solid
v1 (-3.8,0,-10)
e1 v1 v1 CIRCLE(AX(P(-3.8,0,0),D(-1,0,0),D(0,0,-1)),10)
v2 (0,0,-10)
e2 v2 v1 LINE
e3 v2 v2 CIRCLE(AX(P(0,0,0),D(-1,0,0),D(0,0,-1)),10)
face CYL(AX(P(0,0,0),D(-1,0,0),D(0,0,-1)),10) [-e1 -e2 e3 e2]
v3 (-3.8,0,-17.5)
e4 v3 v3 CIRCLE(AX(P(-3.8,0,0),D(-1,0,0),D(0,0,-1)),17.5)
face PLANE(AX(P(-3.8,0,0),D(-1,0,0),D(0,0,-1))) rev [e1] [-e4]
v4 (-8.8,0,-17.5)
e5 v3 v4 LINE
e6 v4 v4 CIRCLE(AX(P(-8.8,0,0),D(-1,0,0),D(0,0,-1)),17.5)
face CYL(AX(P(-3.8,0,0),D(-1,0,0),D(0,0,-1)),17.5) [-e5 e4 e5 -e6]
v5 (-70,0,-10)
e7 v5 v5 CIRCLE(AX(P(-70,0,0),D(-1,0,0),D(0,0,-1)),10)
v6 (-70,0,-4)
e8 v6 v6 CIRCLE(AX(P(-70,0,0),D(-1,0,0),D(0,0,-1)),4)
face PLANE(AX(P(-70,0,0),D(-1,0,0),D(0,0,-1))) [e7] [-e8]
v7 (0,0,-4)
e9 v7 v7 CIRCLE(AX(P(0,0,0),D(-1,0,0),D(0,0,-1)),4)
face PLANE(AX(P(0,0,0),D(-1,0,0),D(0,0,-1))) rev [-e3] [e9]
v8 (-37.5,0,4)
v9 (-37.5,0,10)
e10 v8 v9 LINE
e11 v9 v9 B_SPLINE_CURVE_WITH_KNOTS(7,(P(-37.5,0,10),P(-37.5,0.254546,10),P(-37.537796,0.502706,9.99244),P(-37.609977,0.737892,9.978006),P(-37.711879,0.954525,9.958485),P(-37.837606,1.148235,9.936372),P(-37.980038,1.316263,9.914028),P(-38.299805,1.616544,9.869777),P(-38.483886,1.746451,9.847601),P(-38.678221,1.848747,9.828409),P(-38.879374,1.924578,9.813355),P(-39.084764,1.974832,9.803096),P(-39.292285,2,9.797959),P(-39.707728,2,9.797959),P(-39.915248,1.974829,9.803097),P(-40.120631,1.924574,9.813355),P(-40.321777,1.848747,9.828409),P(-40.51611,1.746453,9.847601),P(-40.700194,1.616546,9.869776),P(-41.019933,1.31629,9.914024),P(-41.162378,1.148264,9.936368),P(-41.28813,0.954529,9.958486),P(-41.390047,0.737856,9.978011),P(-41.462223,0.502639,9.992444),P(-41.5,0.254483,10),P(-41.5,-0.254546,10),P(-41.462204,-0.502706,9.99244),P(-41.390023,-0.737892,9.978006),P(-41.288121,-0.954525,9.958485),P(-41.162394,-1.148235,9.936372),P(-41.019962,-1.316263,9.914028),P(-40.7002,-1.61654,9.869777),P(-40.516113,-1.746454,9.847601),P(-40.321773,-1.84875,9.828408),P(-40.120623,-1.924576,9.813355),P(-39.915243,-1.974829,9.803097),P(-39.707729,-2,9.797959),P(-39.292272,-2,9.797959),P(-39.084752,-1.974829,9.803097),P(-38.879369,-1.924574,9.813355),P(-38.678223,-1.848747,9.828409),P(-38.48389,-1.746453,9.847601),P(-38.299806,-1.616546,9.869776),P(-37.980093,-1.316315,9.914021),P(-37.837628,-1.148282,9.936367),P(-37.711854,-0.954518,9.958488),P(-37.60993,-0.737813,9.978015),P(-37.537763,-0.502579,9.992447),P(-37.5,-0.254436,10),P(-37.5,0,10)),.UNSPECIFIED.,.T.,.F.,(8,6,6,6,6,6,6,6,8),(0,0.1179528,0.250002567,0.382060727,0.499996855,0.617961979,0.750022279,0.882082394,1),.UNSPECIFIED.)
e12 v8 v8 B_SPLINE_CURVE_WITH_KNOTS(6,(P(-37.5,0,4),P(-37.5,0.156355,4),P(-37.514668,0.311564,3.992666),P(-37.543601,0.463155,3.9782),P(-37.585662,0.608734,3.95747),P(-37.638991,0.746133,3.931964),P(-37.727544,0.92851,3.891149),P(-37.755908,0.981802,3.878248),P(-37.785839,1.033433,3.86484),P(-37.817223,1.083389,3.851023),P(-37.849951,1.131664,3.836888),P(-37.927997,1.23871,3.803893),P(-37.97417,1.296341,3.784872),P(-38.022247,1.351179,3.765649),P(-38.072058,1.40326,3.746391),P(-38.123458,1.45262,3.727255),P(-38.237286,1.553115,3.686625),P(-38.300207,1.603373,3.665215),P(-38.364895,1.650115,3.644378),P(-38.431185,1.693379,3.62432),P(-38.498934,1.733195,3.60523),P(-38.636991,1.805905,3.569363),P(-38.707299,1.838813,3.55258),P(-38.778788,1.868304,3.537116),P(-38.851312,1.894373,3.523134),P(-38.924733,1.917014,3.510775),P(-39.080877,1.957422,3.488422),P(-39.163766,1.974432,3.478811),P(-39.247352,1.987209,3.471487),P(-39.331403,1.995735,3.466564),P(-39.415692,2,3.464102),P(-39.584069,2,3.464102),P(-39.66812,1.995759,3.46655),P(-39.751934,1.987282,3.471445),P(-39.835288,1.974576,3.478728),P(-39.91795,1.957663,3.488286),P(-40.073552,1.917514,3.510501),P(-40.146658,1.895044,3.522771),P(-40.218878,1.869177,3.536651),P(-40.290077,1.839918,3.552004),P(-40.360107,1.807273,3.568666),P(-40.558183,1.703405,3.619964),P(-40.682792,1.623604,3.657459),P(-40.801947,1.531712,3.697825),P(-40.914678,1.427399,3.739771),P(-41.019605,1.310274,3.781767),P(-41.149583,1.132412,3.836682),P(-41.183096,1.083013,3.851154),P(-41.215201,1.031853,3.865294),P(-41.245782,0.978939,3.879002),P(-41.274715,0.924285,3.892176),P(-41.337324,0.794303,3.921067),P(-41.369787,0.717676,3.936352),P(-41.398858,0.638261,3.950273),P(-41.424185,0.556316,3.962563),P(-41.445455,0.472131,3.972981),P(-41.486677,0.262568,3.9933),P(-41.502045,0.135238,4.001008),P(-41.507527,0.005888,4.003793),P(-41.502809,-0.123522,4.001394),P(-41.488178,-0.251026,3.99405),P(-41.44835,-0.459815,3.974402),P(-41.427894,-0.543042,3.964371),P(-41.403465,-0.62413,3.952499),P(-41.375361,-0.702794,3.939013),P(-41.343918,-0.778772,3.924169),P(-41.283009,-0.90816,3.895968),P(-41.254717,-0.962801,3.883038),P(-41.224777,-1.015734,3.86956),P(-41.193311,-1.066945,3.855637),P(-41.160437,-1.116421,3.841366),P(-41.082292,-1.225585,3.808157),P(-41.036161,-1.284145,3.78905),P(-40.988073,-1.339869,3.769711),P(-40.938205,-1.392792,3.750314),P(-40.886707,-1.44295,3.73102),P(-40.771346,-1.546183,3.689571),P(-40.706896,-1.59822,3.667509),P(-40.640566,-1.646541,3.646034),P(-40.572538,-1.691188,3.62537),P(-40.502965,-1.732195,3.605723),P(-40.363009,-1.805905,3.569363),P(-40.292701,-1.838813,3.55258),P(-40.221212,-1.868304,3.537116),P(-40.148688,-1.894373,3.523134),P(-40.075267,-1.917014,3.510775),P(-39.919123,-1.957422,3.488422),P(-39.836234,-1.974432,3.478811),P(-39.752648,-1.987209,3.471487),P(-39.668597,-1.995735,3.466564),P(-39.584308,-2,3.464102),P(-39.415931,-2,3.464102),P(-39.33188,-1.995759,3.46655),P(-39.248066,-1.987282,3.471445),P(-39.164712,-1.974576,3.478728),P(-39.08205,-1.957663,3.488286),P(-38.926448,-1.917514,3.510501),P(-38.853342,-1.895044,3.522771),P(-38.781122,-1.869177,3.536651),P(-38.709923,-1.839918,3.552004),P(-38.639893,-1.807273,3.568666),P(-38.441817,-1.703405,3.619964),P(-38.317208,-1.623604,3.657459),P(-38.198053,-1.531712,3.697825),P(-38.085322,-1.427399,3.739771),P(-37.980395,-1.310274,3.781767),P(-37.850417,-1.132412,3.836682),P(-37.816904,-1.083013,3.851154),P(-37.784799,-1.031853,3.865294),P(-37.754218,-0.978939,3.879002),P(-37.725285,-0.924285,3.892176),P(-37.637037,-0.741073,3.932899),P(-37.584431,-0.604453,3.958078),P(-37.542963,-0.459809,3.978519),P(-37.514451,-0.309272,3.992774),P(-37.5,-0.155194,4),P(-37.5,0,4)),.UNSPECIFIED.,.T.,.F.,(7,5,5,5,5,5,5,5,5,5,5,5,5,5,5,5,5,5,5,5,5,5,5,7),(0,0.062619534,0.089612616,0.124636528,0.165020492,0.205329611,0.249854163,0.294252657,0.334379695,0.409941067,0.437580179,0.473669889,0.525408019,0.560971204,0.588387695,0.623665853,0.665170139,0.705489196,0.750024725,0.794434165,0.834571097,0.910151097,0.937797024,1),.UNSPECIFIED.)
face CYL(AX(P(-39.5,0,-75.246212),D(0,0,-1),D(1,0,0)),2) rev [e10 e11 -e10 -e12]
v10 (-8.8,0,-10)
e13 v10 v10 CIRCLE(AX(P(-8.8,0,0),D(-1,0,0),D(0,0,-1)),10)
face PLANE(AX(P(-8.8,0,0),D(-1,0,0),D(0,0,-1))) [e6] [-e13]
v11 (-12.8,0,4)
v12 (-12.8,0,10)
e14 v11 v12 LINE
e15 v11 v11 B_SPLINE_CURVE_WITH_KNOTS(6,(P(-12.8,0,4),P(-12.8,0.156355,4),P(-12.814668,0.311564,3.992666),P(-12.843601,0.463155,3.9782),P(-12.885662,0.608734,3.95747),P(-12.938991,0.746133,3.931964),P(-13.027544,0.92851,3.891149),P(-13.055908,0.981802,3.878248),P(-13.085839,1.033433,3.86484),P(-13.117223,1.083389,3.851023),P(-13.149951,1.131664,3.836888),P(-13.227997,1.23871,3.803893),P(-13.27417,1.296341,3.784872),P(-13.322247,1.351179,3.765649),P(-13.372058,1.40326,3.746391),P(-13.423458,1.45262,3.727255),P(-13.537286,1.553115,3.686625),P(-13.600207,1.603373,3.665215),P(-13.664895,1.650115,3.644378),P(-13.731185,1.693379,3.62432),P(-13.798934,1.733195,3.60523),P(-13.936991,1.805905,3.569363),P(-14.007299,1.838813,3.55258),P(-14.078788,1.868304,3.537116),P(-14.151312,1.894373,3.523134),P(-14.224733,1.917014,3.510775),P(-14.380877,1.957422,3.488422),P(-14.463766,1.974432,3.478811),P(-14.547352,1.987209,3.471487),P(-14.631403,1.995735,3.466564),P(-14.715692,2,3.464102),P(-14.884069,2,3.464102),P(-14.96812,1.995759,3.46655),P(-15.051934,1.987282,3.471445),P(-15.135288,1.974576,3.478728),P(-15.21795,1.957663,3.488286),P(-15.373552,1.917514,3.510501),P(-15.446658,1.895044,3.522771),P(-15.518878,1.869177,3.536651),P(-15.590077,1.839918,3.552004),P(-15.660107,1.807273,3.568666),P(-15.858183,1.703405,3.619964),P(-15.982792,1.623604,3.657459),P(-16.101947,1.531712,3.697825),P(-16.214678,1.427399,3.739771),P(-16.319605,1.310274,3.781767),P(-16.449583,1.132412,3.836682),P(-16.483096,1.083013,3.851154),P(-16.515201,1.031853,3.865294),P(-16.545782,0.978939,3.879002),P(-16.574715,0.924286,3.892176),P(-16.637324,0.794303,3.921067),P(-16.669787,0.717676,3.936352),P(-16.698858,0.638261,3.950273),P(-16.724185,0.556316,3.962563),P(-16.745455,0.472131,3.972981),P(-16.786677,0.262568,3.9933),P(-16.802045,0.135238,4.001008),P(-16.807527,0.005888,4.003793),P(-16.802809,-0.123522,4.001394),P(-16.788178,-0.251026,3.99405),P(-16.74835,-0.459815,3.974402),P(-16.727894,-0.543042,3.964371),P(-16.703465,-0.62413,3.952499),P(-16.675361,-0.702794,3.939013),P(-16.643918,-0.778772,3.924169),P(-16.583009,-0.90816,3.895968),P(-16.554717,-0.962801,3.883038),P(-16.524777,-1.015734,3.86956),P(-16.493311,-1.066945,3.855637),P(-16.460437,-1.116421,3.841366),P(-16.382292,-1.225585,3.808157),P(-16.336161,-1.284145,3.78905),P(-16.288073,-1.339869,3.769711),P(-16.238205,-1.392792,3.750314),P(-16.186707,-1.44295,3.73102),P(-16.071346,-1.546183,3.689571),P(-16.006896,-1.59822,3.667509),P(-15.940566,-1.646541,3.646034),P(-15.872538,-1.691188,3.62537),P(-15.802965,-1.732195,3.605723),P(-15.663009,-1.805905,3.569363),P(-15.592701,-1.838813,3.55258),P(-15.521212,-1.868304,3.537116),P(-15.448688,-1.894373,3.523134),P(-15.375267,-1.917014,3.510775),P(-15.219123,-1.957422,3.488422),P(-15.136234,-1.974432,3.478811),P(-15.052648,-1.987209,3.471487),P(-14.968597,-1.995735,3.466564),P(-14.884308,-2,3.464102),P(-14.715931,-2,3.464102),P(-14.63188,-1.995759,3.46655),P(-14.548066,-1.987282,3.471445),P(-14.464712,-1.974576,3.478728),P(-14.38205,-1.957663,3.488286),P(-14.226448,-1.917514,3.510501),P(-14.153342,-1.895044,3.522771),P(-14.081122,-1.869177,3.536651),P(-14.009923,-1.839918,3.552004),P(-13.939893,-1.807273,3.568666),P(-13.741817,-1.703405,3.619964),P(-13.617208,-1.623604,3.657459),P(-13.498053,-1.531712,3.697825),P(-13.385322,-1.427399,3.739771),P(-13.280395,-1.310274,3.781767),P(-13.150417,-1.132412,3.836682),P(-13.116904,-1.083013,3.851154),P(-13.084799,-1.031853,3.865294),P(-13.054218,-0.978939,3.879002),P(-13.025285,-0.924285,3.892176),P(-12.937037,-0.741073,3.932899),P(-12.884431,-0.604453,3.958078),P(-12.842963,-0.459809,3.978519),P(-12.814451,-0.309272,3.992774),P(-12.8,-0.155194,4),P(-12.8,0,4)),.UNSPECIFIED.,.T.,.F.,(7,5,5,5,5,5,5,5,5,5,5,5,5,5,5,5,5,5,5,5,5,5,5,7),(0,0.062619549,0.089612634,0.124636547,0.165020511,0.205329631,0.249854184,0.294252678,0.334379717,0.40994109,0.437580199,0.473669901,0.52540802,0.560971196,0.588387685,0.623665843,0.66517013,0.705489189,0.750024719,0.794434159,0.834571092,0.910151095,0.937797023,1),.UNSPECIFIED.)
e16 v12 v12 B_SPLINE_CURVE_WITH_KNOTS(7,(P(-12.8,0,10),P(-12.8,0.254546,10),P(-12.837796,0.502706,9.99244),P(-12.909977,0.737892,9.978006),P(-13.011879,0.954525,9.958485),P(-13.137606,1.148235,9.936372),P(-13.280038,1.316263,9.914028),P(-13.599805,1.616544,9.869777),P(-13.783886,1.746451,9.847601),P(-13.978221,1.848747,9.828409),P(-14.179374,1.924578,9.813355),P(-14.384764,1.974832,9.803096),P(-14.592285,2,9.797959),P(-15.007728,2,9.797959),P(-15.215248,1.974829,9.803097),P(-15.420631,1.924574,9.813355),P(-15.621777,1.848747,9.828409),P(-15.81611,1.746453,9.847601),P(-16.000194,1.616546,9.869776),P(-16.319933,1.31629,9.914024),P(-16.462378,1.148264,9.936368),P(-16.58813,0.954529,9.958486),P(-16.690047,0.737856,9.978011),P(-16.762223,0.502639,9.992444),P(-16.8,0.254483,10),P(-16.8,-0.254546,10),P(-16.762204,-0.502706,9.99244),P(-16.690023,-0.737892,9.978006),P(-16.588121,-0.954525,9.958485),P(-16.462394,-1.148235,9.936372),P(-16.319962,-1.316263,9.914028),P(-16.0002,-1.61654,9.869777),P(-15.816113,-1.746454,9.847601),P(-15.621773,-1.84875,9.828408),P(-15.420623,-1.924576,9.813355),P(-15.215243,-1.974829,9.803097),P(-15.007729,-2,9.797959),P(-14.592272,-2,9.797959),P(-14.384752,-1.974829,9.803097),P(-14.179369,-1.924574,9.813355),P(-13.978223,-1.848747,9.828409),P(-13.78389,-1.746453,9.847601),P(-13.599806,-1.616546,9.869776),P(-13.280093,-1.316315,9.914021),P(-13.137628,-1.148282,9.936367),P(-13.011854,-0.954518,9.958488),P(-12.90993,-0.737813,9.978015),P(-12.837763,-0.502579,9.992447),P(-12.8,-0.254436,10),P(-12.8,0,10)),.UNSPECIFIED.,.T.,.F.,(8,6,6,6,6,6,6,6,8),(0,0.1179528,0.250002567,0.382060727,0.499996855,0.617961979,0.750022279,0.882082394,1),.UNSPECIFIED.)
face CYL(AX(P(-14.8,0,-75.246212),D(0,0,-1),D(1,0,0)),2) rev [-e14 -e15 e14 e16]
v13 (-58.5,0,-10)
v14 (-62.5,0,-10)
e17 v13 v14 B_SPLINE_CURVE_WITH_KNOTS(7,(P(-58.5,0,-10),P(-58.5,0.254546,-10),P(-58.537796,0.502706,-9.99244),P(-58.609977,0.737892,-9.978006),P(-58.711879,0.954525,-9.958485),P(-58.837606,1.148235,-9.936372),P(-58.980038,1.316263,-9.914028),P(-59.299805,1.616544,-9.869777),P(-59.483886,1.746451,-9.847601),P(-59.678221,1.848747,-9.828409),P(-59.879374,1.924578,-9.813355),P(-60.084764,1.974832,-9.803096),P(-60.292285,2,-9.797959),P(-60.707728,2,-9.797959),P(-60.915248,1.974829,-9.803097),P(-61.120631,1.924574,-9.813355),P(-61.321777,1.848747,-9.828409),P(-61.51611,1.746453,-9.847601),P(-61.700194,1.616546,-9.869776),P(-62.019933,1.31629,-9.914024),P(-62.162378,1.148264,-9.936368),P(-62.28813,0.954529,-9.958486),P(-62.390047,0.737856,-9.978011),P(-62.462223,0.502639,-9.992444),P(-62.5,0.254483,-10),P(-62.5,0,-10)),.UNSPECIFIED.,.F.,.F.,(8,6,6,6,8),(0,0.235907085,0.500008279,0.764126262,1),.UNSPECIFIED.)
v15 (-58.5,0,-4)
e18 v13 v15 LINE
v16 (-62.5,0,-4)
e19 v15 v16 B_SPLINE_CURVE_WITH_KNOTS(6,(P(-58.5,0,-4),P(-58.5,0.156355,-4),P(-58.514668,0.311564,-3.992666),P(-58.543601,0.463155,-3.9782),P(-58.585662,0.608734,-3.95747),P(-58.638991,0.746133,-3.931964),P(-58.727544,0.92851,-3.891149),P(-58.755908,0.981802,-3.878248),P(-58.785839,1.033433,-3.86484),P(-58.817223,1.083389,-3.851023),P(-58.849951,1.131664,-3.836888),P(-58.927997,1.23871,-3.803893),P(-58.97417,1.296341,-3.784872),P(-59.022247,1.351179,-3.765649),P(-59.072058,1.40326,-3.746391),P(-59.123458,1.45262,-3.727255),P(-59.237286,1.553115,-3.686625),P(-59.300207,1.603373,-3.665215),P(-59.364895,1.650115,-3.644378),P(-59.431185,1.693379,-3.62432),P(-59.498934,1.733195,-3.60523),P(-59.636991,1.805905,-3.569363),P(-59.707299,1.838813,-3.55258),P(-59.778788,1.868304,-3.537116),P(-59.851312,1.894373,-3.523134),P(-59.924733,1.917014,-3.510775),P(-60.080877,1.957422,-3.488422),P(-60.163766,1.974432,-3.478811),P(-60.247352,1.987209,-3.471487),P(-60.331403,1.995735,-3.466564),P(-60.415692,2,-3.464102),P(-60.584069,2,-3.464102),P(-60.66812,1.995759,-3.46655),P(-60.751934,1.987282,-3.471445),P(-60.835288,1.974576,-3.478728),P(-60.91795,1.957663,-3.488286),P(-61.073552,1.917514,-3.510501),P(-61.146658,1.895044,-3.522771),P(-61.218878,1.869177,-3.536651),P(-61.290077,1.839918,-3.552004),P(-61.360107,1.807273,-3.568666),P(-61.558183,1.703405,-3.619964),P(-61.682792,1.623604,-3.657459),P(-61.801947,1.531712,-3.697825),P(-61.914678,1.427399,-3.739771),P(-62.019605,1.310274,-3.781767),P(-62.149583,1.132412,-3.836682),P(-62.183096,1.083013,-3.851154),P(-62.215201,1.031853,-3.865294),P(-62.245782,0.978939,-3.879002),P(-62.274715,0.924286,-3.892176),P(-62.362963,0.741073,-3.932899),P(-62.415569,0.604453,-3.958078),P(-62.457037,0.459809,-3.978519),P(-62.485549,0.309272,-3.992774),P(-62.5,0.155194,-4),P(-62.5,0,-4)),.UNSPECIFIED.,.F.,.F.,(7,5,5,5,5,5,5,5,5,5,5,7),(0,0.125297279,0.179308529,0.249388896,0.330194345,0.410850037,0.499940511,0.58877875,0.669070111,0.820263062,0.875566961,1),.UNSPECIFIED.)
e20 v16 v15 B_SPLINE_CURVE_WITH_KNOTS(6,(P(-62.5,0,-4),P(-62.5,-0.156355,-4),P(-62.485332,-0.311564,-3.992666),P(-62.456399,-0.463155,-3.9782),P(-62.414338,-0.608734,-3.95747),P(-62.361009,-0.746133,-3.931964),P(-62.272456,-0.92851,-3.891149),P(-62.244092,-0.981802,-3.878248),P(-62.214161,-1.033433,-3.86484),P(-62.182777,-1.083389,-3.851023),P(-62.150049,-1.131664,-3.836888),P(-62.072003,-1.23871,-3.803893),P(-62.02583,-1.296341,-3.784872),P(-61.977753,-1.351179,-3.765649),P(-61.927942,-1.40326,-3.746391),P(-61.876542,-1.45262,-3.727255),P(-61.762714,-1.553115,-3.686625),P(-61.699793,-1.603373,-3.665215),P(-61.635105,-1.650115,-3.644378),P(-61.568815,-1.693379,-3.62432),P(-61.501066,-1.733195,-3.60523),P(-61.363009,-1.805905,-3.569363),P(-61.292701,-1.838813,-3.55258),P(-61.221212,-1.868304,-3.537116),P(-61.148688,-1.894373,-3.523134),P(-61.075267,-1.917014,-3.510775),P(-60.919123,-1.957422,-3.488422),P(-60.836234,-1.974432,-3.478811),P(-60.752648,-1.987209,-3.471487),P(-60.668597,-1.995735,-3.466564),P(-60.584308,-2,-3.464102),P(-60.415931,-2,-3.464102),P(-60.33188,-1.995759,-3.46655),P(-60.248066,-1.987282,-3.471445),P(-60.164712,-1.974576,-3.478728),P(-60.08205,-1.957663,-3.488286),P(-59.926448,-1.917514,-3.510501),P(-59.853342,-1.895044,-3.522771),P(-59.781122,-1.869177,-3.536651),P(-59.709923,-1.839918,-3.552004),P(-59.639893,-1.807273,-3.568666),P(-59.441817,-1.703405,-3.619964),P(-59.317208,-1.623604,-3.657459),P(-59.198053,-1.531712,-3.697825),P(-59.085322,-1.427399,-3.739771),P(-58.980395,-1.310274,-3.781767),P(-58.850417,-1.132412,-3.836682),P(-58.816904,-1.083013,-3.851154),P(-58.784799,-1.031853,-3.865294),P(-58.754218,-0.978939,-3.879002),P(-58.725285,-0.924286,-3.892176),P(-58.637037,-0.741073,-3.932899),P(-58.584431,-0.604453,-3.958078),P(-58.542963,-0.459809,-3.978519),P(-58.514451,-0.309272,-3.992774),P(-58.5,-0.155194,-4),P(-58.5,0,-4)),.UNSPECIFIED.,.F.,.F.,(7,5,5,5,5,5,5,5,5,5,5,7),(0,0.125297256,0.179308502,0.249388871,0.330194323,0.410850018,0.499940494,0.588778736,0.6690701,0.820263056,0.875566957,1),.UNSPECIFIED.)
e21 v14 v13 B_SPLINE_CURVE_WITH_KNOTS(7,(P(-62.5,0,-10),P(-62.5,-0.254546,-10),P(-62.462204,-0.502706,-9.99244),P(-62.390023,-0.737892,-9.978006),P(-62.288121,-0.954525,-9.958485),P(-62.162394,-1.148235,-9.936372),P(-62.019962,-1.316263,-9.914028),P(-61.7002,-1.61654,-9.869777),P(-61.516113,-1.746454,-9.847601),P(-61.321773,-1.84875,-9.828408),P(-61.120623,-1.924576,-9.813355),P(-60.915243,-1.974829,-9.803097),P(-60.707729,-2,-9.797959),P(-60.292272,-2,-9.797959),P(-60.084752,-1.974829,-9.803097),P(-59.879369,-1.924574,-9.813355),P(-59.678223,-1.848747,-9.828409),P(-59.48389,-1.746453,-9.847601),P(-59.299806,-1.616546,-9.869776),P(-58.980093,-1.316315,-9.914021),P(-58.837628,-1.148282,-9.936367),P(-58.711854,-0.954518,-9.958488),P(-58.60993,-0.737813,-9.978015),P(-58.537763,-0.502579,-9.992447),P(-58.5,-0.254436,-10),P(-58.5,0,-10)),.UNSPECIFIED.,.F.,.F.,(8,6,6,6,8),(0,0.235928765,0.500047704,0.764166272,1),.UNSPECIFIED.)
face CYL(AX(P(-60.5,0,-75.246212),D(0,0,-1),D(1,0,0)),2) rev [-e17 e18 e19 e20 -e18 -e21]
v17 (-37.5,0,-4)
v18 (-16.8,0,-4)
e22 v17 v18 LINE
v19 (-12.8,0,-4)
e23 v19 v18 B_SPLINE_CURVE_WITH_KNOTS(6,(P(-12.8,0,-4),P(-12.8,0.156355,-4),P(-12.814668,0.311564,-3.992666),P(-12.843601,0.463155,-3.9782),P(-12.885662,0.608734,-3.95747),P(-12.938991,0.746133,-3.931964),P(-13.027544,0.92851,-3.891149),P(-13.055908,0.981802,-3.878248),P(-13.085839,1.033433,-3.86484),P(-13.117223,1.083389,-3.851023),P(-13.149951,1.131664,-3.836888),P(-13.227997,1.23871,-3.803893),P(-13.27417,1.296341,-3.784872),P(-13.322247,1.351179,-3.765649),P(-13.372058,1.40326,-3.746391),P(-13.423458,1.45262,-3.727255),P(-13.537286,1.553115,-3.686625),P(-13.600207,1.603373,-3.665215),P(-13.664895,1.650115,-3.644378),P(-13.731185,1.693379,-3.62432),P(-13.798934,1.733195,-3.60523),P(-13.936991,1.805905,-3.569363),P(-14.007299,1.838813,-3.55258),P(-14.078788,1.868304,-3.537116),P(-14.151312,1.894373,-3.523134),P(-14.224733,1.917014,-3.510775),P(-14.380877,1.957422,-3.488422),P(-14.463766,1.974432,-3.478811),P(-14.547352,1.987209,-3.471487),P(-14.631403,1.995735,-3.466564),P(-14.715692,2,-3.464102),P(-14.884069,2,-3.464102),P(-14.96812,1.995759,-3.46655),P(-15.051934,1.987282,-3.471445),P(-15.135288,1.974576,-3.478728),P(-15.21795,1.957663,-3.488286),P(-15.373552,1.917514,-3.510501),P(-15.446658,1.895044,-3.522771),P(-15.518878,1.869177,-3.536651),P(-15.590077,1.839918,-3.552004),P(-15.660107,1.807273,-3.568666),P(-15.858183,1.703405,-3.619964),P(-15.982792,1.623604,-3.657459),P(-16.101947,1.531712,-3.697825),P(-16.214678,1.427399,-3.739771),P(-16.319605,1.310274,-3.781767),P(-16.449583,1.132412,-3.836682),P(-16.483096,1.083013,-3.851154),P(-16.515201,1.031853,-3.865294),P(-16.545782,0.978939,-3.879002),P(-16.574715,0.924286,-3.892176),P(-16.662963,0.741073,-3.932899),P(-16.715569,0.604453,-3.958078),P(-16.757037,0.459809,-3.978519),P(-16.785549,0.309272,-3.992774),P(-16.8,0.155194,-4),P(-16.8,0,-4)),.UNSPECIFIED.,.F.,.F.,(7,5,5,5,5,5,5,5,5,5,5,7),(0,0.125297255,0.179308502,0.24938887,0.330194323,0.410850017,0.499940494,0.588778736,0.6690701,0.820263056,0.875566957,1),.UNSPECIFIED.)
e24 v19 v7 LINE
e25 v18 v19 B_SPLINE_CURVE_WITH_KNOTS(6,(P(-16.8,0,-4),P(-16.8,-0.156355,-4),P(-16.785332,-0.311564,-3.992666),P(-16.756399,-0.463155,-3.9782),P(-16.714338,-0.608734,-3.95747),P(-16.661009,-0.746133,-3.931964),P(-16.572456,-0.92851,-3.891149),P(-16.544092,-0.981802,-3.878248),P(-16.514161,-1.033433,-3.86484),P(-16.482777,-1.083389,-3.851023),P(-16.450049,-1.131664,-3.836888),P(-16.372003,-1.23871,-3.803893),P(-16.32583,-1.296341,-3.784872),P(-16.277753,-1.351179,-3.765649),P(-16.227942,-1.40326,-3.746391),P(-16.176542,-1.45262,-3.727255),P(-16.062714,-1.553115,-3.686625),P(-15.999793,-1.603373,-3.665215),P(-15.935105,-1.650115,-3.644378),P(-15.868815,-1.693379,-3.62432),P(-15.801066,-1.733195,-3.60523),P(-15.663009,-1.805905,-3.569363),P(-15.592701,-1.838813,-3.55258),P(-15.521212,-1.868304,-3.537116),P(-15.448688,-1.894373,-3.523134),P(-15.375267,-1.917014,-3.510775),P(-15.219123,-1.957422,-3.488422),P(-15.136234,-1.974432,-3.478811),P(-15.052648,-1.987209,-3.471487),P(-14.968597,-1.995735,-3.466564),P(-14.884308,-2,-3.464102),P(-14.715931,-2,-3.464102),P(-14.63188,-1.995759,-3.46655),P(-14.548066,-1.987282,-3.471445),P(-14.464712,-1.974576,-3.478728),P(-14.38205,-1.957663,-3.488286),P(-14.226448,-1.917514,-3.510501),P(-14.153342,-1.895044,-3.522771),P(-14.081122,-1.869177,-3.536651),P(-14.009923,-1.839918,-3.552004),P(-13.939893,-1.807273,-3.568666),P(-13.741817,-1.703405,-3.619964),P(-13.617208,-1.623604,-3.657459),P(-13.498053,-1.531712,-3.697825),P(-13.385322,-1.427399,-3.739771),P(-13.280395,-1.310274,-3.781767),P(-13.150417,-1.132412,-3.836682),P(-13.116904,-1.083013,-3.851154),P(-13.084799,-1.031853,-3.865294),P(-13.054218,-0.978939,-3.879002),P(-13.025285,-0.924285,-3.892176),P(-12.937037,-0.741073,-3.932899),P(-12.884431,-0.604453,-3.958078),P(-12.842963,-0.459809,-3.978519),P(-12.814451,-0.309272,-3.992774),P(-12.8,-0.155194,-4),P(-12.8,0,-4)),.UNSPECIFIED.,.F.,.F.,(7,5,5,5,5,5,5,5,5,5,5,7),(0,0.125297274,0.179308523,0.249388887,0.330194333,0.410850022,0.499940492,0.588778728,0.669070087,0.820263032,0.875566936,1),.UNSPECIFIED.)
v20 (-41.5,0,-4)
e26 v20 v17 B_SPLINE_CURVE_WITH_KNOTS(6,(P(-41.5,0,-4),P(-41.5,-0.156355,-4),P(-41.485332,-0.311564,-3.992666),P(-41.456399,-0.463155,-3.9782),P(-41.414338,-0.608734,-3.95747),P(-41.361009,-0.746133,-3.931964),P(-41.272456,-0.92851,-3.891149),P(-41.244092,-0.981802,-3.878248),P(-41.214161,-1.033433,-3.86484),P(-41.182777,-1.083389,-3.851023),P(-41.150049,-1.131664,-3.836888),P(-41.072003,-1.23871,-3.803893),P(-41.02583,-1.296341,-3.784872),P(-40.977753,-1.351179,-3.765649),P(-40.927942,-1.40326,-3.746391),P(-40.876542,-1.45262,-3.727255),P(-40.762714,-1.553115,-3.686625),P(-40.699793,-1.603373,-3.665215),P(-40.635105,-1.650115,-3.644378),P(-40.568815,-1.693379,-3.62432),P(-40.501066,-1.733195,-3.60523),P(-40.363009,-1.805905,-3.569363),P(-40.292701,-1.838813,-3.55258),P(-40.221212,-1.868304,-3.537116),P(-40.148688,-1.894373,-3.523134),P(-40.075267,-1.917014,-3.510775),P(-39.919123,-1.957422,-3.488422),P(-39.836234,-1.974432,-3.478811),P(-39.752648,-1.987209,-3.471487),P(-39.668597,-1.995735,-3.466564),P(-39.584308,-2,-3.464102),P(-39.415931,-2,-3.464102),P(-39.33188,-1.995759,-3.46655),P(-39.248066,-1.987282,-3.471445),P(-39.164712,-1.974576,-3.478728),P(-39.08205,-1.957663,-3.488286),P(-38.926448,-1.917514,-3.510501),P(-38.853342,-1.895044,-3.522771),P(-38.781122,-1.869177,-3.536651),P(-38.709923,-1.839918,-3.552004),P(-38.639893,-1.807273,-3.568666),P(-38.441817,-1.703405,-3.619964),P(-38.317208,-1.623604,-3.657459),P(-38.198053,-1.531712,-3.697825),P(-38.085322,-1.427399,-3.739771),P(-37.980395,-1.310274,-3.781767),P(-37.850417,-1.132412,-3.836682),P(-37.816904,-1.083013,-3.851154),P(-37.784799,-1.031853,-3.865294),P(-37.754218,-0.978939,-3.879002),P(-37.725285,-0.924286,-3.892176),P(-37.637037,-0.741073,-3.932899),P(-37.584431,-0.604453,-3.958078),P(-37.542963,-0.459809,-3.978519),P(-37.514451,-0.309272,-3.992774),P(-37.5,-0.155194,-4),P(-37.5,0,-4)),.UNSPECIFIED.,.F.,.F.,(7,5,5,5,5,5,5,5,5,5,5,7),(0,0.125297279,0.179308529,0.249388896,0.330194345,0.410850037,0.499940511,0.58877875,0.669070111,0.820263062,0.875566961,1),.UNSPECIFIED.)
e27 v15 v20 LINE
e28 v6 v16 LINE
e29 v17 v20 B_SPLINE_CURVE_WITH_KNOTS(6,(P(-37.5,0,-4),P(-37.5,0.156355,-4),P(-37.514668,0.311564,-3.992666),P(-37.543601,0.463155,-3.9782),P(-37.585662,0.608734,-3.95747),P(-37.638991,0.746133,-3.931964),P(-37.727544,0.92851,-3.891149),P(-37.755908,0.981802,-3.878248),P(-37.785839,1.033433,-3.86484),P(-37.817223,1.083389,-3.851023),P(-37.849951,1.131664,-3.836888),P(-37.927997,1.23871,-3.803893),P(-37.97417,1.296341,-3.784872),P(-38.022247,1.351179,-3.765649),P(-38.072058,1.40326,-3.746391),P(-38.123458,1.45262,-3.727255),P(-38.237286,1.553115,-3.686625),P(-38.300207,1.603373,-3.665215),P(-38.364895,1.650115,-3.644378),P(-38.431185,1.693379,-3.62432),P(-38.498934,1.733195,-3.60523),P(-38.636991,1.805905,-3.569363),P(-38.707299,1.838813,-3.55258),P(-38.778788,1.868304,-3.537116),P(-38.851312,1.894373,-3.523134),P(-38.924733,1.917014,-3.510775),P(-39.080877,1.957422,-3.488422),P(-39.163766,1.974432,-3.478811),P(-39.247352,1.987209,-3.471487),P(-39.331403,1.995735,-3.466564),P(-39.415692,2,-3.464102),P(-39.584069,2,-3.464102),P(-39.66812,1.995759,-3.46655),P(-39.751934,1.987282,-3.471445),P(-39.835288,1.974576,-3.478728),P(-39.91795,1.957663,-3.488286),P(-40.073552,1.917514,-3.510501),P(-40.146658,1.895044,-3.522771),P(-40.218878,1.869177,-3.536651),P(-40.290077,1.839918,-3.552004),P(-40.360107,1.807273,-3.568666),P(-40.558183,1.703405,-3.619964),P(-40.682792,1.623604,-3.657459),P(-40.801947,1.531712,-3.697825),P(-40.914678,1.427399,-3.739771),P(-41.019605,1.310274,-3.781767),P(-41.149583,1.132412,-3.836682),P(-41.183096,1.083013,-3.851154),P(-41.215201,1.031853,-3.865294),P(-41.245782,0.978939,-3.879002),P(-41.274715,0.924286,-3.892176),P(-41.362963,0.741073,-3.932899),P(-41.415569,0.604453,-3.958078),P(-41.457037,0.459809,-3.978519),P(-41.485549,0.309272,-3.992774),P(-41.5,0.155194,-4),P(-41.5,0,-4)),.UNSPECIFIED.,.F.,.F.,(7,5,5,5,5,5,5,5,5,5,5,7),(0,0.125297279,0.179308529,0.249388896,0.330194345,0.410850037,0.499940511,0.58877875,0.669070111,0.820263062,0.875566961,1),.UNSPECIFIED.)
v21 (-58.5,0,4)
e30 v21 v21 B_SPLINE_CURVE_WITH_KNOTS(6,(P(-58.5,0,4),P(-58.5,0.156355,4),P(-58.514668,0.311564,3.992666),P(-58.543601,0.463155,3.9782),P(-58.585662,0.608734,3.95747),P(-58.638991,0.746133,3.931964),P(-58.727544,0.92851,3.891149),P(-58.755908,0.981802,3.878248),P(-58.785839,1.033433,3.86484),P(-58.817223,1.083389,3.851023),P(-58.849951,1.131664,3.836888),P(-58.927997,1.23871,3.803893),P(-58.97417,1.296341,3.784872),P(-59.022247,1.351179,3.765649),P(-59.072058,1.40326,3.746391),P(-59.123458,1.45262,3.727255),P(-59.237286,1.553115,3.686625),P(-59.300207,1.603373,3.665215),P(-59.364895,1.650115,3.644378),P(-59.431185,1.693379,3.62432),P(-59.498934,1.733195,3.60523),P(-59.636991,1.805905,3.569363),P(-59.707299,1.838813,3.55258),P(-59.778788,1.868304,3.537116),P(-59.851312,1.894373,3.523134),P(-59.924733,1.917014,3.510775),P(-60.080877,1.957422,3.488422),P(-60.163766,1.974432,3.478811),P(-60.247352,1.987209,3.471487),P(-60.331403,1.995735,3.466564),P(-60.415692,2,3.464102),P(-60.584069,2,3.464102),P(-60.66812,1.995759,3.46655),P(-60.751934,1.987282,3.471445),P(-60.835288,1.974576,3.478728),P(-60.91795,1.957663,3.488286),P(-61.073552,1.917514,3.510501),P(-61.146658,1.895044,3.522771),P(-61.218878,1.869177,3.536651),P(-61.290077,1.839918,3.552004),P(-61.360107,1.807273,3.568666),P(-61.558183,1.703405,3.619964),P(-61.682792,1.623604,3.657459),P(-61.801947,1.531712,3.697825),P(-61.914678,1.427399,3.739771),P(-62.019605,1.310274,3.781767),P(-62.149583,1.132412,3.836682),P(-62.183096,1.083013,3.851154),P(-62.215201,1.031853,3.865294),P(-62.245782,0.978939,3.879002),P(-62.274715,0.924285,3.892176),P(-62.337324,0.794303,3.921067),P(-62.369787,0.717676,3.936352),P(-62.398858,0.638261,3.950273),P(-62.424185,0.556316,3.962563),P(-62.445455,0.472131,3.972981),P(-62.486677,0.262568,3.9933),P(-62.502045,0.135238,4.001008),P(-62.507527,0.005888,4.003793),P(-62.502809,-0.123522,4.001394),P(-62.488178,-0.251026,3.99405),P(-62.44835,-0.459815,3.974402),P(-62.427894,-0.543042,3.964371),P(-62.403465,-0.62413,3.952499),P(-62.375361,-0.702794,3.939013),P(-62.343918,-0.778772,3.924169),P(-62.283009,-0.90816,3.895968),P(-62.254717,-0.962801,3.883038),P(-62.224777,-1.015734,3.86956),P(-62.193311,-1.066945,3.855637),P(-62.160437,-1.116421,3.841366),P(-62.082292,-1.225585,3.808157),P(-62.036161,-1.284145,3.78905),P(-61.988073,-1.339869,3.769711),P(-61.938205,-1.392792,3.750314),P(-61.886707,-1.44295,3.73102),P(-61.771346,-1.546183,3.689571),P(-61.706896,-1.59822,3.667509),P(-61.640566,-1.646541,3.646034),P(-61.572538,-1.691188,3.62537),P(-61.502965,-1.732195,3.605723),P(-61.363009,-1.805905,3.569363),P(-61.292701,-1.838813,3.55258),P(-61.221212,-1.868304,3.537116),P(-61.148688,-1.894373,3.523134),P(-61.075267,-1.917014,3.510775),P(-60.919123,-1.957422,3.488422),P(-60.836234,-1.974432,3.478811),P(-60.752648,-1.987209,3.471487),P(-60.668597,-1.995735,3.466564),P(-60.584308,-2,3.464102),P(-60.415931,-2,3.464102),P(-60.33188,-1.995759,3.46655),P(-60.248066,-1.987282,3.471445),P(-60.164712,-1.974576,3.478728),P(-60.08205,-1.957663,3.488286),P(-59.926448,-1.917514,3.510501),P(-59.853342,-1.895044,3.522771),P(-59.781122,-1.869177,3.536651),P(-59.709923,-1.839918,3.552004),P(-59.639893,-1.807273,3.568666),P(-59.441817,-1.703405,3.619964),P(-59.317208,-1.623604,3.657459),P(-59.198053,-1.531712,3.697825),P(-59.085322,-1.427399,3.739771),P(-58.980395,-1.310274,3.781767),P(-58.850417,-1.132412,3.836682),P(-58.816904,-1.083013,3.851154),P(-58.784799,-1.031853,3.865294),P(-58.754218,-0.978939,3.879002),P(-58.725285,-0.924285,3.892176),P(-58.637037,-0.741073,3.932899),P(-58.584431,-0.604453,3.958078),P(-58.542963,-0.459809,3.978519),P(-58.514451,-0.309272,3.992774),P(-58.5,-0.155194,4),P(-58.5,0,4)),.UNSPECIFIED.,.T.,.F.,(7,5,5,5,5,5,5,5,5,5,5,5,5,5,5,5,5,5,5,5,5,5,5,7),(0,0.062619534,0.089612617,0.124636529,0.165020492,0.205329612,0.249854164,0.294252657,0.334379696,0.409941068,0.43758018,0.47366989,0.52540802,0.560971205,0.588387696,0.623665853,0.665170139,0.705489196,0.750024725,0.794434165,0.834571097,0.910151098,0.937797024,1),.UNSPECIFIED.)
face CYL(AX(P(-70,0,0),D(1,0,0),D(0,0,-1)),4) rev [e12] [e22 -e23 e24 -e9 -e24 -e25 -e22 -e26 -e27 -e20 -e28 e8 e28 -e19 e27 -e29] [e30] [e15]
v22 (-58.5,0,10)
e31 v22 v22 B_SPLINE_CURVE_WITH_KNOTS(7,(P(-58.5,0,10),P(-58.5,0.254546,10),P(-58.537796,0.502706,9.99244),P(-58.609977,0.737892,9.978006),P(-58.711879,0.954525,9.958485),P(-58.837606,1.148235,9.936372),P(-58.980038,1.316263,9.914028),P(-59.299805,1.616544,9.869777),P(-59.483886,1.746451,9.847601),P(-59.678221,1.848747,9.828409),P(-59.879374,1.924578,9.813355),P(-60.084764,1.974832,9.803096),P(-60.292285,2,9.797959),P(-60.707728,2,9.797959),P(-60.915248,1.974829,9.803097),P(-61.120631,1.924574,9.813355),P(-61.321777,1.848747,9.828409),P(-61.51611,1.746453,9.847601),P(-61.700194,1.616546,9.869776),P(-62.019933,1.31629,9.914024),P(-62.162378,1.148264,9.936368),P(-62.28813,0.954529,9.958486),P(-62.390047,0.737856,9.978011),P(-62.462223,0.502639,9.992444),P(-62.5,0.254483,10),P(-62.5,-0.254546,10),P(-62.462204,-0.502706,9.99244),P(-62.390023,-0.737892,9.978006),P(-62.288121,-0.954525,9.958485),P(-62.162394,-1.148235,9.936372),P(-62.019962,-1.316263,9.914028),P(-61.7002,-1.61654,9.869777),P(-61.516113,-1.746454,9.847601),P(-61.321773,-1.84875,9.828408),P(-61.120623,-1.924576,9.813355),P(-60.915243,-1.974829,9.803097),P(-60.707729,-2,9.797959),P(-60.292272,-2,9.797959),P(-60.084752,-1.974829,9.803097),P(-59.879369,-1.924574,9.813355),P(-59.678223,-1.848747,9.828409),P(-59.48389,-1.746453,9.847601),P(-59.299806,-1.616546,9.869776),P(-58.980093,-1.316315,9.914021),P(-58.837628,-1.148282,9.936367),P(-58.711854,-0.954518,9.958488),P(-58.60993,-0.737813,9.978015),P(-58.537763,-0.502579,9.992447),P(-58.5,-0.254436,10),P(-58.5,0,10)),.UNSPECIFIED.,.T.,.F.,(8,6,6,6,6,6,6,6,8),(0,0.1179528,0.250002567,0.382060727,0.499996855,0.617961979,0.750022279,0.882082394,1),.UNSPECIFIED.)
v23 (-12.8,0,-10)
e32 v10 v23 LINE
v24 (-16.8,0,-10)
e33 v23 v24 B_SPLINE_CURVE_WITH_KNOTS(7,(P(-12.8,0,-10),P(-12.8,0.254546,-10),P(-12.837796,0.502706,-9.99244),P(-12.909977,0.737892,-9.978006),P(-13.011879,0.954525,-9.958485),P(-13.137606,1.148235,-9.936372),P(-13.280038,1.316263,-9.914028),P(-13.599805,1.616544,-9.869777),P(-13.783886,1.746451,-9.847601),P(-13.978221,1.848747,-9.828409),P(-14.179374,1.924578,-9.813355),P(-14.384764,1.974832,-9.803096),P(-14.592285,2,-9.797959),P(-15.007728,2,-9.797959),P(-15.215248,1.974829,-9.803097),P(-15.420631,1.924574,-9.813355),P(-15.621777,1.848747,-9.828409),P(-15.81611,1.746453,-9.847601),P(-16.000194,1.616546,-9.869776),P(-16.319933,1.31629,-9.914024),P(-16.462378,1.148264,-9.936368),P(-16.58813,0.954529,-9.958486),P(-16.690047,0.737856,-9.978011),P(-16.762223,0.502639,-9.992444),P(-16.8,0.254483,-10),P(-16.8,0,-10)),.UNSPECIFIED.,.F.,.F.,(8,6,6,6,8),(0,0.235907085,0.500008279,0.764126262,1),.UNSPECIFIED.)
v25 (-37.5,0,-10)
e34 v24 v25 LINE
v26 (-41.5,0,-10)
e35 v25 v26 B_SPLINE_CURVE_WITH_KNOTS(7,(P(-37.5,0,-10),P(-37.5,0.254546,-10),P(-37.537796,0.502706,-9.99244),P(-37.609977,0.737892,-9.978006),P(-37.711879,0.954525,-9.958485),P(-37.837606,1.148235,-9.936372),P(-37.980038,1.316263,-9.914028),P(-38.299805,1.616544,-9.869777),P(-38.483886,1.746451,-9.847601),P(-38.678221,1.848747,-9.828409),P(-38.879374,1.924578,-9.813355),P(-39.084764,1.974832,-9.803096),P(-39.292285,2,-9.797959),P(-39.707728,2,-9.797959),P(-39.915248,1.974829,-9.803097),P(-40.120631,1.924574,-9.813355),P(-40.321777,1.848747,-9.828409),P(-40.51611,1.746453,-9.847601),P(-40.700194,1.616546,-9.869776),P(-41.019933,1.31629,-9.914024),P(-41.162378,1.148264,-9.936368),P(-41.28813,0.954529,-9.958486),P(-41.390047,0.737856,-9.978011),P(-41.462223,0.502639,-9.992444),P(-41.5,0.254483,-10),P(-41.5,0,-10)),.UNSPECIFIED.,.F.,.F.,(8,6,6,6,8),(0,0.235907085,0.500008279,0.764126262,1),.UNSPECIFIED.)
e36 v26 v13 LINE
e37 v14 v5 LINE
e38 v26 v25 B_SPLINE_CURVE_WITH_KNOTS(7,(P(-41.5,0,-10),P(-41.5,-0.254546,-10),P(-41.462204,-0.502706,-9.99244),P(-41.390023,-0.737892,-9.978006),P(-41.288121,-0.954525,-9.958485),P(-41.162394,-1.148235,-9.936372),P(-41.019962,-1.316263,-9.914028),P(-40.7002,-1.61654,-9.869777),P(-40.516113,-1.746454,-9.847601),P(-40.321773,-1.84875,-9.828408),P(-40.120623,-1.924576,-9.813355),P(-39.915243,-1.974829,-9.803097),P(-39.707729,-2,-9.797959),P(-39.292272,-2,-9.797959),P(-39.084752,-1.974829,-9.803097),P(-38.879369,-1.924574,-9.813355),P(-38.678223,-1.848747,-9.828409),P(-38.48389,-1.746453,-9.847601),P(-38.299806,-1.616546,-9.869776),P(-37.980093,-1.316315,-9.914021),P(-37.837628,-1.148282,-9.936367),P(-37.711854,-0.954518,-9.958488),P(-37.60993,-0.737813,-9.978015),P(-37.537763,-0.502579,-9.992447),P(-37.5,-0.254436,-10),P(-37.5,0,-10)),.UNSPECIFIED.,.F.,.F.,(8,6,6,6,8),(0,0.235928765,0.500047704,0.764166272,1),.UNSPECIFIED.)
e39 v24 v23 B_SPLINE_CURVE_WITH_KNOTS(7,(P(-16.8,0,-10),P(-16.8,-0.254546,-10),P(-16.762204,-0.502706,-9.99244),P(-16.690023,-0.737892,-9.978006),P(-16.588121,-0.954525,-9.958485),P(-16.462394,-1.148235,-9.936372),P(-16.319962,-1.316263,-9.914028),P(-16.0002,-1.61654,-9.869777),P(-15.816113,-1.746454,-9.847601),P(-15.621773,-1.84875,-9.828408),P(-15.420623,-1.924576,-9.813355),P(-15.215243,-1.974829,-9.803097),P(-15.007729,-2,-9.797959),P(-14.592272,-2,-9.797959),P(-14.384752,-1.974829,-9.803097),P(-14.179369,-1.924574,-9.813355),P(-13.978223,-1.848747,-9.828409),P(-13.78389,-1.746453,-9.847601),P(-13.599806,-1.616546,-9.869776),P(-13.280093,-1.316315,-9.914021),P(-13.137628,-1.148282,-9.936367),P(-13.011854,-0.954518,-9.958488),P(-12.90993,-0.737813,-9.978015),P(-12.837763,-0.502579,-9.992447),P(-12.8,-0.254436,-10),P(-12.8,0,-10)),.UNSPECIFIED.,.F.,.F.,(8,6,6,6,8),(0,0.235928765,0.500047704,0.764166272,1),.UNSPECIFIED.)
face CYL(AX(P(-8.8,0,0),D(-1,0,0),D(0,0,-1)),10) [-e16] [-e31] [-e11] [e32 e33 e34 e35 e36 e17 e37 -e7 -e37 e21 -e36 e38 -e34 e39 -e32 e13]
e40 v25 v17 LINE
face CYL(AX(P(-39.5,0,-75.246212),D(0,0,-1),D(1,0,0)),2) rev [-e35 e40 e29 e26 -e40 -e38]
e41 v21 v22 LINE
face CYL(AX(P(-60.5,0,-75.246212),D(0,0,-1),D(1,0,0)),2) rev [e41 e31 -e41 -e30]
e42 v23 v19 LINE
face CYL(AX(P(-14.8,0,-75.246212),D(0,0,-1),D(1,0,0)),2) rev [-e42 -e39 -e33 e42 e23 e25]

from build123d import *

# Parameters (mm, degrees)
CUT_EXTRUDE2_DEPTH      = 75.246212025
CUT_EXTRUDE2_DEPTH_BACK = 75.246212025
SKETCH5_R               = 2


with BuildPart() as part:
    # Sketch1 → Revolve2 (revolve)
    with BuildSketch(Plane(origin=(0, 0, 0), x_dir=(1, 0, 0), z_dir=(0, 1, 0))):
        Polygon((-3.8, 17.5), (-8.8, 17.5), (-8.8, 10), (-70, 10), (-70, 0), (-70, 4), (0, 4), (0, 10), (-3.8, 10), align=None)
    revolve(axis=Axis((0, 0, 0), (-1, 0, 0)))

    # Sketch5 → Cut-Extrude2 (cut, two sides: drawn at the far end of the back side and taken through both)
    with BuildSketch(Plane.XY.offset(-CUT_EXTRUDE2_DEPTH_BACK)):
        with Locations((-39.5, 0)):
            Circle(SKETCH5_R)
        with Locations((-60.5, 0)):
            Circle(SKETCH5_R)
        with Locations((-14.8, 0)):
            Circle(SKETCH5_R)
    extrude(amount=CUT_EXTRUDE2_DEPTH + CUT_EXTRUDE2_DEPTH_BACK, mode=Mode.SUBTRACT)


solid = part.part
